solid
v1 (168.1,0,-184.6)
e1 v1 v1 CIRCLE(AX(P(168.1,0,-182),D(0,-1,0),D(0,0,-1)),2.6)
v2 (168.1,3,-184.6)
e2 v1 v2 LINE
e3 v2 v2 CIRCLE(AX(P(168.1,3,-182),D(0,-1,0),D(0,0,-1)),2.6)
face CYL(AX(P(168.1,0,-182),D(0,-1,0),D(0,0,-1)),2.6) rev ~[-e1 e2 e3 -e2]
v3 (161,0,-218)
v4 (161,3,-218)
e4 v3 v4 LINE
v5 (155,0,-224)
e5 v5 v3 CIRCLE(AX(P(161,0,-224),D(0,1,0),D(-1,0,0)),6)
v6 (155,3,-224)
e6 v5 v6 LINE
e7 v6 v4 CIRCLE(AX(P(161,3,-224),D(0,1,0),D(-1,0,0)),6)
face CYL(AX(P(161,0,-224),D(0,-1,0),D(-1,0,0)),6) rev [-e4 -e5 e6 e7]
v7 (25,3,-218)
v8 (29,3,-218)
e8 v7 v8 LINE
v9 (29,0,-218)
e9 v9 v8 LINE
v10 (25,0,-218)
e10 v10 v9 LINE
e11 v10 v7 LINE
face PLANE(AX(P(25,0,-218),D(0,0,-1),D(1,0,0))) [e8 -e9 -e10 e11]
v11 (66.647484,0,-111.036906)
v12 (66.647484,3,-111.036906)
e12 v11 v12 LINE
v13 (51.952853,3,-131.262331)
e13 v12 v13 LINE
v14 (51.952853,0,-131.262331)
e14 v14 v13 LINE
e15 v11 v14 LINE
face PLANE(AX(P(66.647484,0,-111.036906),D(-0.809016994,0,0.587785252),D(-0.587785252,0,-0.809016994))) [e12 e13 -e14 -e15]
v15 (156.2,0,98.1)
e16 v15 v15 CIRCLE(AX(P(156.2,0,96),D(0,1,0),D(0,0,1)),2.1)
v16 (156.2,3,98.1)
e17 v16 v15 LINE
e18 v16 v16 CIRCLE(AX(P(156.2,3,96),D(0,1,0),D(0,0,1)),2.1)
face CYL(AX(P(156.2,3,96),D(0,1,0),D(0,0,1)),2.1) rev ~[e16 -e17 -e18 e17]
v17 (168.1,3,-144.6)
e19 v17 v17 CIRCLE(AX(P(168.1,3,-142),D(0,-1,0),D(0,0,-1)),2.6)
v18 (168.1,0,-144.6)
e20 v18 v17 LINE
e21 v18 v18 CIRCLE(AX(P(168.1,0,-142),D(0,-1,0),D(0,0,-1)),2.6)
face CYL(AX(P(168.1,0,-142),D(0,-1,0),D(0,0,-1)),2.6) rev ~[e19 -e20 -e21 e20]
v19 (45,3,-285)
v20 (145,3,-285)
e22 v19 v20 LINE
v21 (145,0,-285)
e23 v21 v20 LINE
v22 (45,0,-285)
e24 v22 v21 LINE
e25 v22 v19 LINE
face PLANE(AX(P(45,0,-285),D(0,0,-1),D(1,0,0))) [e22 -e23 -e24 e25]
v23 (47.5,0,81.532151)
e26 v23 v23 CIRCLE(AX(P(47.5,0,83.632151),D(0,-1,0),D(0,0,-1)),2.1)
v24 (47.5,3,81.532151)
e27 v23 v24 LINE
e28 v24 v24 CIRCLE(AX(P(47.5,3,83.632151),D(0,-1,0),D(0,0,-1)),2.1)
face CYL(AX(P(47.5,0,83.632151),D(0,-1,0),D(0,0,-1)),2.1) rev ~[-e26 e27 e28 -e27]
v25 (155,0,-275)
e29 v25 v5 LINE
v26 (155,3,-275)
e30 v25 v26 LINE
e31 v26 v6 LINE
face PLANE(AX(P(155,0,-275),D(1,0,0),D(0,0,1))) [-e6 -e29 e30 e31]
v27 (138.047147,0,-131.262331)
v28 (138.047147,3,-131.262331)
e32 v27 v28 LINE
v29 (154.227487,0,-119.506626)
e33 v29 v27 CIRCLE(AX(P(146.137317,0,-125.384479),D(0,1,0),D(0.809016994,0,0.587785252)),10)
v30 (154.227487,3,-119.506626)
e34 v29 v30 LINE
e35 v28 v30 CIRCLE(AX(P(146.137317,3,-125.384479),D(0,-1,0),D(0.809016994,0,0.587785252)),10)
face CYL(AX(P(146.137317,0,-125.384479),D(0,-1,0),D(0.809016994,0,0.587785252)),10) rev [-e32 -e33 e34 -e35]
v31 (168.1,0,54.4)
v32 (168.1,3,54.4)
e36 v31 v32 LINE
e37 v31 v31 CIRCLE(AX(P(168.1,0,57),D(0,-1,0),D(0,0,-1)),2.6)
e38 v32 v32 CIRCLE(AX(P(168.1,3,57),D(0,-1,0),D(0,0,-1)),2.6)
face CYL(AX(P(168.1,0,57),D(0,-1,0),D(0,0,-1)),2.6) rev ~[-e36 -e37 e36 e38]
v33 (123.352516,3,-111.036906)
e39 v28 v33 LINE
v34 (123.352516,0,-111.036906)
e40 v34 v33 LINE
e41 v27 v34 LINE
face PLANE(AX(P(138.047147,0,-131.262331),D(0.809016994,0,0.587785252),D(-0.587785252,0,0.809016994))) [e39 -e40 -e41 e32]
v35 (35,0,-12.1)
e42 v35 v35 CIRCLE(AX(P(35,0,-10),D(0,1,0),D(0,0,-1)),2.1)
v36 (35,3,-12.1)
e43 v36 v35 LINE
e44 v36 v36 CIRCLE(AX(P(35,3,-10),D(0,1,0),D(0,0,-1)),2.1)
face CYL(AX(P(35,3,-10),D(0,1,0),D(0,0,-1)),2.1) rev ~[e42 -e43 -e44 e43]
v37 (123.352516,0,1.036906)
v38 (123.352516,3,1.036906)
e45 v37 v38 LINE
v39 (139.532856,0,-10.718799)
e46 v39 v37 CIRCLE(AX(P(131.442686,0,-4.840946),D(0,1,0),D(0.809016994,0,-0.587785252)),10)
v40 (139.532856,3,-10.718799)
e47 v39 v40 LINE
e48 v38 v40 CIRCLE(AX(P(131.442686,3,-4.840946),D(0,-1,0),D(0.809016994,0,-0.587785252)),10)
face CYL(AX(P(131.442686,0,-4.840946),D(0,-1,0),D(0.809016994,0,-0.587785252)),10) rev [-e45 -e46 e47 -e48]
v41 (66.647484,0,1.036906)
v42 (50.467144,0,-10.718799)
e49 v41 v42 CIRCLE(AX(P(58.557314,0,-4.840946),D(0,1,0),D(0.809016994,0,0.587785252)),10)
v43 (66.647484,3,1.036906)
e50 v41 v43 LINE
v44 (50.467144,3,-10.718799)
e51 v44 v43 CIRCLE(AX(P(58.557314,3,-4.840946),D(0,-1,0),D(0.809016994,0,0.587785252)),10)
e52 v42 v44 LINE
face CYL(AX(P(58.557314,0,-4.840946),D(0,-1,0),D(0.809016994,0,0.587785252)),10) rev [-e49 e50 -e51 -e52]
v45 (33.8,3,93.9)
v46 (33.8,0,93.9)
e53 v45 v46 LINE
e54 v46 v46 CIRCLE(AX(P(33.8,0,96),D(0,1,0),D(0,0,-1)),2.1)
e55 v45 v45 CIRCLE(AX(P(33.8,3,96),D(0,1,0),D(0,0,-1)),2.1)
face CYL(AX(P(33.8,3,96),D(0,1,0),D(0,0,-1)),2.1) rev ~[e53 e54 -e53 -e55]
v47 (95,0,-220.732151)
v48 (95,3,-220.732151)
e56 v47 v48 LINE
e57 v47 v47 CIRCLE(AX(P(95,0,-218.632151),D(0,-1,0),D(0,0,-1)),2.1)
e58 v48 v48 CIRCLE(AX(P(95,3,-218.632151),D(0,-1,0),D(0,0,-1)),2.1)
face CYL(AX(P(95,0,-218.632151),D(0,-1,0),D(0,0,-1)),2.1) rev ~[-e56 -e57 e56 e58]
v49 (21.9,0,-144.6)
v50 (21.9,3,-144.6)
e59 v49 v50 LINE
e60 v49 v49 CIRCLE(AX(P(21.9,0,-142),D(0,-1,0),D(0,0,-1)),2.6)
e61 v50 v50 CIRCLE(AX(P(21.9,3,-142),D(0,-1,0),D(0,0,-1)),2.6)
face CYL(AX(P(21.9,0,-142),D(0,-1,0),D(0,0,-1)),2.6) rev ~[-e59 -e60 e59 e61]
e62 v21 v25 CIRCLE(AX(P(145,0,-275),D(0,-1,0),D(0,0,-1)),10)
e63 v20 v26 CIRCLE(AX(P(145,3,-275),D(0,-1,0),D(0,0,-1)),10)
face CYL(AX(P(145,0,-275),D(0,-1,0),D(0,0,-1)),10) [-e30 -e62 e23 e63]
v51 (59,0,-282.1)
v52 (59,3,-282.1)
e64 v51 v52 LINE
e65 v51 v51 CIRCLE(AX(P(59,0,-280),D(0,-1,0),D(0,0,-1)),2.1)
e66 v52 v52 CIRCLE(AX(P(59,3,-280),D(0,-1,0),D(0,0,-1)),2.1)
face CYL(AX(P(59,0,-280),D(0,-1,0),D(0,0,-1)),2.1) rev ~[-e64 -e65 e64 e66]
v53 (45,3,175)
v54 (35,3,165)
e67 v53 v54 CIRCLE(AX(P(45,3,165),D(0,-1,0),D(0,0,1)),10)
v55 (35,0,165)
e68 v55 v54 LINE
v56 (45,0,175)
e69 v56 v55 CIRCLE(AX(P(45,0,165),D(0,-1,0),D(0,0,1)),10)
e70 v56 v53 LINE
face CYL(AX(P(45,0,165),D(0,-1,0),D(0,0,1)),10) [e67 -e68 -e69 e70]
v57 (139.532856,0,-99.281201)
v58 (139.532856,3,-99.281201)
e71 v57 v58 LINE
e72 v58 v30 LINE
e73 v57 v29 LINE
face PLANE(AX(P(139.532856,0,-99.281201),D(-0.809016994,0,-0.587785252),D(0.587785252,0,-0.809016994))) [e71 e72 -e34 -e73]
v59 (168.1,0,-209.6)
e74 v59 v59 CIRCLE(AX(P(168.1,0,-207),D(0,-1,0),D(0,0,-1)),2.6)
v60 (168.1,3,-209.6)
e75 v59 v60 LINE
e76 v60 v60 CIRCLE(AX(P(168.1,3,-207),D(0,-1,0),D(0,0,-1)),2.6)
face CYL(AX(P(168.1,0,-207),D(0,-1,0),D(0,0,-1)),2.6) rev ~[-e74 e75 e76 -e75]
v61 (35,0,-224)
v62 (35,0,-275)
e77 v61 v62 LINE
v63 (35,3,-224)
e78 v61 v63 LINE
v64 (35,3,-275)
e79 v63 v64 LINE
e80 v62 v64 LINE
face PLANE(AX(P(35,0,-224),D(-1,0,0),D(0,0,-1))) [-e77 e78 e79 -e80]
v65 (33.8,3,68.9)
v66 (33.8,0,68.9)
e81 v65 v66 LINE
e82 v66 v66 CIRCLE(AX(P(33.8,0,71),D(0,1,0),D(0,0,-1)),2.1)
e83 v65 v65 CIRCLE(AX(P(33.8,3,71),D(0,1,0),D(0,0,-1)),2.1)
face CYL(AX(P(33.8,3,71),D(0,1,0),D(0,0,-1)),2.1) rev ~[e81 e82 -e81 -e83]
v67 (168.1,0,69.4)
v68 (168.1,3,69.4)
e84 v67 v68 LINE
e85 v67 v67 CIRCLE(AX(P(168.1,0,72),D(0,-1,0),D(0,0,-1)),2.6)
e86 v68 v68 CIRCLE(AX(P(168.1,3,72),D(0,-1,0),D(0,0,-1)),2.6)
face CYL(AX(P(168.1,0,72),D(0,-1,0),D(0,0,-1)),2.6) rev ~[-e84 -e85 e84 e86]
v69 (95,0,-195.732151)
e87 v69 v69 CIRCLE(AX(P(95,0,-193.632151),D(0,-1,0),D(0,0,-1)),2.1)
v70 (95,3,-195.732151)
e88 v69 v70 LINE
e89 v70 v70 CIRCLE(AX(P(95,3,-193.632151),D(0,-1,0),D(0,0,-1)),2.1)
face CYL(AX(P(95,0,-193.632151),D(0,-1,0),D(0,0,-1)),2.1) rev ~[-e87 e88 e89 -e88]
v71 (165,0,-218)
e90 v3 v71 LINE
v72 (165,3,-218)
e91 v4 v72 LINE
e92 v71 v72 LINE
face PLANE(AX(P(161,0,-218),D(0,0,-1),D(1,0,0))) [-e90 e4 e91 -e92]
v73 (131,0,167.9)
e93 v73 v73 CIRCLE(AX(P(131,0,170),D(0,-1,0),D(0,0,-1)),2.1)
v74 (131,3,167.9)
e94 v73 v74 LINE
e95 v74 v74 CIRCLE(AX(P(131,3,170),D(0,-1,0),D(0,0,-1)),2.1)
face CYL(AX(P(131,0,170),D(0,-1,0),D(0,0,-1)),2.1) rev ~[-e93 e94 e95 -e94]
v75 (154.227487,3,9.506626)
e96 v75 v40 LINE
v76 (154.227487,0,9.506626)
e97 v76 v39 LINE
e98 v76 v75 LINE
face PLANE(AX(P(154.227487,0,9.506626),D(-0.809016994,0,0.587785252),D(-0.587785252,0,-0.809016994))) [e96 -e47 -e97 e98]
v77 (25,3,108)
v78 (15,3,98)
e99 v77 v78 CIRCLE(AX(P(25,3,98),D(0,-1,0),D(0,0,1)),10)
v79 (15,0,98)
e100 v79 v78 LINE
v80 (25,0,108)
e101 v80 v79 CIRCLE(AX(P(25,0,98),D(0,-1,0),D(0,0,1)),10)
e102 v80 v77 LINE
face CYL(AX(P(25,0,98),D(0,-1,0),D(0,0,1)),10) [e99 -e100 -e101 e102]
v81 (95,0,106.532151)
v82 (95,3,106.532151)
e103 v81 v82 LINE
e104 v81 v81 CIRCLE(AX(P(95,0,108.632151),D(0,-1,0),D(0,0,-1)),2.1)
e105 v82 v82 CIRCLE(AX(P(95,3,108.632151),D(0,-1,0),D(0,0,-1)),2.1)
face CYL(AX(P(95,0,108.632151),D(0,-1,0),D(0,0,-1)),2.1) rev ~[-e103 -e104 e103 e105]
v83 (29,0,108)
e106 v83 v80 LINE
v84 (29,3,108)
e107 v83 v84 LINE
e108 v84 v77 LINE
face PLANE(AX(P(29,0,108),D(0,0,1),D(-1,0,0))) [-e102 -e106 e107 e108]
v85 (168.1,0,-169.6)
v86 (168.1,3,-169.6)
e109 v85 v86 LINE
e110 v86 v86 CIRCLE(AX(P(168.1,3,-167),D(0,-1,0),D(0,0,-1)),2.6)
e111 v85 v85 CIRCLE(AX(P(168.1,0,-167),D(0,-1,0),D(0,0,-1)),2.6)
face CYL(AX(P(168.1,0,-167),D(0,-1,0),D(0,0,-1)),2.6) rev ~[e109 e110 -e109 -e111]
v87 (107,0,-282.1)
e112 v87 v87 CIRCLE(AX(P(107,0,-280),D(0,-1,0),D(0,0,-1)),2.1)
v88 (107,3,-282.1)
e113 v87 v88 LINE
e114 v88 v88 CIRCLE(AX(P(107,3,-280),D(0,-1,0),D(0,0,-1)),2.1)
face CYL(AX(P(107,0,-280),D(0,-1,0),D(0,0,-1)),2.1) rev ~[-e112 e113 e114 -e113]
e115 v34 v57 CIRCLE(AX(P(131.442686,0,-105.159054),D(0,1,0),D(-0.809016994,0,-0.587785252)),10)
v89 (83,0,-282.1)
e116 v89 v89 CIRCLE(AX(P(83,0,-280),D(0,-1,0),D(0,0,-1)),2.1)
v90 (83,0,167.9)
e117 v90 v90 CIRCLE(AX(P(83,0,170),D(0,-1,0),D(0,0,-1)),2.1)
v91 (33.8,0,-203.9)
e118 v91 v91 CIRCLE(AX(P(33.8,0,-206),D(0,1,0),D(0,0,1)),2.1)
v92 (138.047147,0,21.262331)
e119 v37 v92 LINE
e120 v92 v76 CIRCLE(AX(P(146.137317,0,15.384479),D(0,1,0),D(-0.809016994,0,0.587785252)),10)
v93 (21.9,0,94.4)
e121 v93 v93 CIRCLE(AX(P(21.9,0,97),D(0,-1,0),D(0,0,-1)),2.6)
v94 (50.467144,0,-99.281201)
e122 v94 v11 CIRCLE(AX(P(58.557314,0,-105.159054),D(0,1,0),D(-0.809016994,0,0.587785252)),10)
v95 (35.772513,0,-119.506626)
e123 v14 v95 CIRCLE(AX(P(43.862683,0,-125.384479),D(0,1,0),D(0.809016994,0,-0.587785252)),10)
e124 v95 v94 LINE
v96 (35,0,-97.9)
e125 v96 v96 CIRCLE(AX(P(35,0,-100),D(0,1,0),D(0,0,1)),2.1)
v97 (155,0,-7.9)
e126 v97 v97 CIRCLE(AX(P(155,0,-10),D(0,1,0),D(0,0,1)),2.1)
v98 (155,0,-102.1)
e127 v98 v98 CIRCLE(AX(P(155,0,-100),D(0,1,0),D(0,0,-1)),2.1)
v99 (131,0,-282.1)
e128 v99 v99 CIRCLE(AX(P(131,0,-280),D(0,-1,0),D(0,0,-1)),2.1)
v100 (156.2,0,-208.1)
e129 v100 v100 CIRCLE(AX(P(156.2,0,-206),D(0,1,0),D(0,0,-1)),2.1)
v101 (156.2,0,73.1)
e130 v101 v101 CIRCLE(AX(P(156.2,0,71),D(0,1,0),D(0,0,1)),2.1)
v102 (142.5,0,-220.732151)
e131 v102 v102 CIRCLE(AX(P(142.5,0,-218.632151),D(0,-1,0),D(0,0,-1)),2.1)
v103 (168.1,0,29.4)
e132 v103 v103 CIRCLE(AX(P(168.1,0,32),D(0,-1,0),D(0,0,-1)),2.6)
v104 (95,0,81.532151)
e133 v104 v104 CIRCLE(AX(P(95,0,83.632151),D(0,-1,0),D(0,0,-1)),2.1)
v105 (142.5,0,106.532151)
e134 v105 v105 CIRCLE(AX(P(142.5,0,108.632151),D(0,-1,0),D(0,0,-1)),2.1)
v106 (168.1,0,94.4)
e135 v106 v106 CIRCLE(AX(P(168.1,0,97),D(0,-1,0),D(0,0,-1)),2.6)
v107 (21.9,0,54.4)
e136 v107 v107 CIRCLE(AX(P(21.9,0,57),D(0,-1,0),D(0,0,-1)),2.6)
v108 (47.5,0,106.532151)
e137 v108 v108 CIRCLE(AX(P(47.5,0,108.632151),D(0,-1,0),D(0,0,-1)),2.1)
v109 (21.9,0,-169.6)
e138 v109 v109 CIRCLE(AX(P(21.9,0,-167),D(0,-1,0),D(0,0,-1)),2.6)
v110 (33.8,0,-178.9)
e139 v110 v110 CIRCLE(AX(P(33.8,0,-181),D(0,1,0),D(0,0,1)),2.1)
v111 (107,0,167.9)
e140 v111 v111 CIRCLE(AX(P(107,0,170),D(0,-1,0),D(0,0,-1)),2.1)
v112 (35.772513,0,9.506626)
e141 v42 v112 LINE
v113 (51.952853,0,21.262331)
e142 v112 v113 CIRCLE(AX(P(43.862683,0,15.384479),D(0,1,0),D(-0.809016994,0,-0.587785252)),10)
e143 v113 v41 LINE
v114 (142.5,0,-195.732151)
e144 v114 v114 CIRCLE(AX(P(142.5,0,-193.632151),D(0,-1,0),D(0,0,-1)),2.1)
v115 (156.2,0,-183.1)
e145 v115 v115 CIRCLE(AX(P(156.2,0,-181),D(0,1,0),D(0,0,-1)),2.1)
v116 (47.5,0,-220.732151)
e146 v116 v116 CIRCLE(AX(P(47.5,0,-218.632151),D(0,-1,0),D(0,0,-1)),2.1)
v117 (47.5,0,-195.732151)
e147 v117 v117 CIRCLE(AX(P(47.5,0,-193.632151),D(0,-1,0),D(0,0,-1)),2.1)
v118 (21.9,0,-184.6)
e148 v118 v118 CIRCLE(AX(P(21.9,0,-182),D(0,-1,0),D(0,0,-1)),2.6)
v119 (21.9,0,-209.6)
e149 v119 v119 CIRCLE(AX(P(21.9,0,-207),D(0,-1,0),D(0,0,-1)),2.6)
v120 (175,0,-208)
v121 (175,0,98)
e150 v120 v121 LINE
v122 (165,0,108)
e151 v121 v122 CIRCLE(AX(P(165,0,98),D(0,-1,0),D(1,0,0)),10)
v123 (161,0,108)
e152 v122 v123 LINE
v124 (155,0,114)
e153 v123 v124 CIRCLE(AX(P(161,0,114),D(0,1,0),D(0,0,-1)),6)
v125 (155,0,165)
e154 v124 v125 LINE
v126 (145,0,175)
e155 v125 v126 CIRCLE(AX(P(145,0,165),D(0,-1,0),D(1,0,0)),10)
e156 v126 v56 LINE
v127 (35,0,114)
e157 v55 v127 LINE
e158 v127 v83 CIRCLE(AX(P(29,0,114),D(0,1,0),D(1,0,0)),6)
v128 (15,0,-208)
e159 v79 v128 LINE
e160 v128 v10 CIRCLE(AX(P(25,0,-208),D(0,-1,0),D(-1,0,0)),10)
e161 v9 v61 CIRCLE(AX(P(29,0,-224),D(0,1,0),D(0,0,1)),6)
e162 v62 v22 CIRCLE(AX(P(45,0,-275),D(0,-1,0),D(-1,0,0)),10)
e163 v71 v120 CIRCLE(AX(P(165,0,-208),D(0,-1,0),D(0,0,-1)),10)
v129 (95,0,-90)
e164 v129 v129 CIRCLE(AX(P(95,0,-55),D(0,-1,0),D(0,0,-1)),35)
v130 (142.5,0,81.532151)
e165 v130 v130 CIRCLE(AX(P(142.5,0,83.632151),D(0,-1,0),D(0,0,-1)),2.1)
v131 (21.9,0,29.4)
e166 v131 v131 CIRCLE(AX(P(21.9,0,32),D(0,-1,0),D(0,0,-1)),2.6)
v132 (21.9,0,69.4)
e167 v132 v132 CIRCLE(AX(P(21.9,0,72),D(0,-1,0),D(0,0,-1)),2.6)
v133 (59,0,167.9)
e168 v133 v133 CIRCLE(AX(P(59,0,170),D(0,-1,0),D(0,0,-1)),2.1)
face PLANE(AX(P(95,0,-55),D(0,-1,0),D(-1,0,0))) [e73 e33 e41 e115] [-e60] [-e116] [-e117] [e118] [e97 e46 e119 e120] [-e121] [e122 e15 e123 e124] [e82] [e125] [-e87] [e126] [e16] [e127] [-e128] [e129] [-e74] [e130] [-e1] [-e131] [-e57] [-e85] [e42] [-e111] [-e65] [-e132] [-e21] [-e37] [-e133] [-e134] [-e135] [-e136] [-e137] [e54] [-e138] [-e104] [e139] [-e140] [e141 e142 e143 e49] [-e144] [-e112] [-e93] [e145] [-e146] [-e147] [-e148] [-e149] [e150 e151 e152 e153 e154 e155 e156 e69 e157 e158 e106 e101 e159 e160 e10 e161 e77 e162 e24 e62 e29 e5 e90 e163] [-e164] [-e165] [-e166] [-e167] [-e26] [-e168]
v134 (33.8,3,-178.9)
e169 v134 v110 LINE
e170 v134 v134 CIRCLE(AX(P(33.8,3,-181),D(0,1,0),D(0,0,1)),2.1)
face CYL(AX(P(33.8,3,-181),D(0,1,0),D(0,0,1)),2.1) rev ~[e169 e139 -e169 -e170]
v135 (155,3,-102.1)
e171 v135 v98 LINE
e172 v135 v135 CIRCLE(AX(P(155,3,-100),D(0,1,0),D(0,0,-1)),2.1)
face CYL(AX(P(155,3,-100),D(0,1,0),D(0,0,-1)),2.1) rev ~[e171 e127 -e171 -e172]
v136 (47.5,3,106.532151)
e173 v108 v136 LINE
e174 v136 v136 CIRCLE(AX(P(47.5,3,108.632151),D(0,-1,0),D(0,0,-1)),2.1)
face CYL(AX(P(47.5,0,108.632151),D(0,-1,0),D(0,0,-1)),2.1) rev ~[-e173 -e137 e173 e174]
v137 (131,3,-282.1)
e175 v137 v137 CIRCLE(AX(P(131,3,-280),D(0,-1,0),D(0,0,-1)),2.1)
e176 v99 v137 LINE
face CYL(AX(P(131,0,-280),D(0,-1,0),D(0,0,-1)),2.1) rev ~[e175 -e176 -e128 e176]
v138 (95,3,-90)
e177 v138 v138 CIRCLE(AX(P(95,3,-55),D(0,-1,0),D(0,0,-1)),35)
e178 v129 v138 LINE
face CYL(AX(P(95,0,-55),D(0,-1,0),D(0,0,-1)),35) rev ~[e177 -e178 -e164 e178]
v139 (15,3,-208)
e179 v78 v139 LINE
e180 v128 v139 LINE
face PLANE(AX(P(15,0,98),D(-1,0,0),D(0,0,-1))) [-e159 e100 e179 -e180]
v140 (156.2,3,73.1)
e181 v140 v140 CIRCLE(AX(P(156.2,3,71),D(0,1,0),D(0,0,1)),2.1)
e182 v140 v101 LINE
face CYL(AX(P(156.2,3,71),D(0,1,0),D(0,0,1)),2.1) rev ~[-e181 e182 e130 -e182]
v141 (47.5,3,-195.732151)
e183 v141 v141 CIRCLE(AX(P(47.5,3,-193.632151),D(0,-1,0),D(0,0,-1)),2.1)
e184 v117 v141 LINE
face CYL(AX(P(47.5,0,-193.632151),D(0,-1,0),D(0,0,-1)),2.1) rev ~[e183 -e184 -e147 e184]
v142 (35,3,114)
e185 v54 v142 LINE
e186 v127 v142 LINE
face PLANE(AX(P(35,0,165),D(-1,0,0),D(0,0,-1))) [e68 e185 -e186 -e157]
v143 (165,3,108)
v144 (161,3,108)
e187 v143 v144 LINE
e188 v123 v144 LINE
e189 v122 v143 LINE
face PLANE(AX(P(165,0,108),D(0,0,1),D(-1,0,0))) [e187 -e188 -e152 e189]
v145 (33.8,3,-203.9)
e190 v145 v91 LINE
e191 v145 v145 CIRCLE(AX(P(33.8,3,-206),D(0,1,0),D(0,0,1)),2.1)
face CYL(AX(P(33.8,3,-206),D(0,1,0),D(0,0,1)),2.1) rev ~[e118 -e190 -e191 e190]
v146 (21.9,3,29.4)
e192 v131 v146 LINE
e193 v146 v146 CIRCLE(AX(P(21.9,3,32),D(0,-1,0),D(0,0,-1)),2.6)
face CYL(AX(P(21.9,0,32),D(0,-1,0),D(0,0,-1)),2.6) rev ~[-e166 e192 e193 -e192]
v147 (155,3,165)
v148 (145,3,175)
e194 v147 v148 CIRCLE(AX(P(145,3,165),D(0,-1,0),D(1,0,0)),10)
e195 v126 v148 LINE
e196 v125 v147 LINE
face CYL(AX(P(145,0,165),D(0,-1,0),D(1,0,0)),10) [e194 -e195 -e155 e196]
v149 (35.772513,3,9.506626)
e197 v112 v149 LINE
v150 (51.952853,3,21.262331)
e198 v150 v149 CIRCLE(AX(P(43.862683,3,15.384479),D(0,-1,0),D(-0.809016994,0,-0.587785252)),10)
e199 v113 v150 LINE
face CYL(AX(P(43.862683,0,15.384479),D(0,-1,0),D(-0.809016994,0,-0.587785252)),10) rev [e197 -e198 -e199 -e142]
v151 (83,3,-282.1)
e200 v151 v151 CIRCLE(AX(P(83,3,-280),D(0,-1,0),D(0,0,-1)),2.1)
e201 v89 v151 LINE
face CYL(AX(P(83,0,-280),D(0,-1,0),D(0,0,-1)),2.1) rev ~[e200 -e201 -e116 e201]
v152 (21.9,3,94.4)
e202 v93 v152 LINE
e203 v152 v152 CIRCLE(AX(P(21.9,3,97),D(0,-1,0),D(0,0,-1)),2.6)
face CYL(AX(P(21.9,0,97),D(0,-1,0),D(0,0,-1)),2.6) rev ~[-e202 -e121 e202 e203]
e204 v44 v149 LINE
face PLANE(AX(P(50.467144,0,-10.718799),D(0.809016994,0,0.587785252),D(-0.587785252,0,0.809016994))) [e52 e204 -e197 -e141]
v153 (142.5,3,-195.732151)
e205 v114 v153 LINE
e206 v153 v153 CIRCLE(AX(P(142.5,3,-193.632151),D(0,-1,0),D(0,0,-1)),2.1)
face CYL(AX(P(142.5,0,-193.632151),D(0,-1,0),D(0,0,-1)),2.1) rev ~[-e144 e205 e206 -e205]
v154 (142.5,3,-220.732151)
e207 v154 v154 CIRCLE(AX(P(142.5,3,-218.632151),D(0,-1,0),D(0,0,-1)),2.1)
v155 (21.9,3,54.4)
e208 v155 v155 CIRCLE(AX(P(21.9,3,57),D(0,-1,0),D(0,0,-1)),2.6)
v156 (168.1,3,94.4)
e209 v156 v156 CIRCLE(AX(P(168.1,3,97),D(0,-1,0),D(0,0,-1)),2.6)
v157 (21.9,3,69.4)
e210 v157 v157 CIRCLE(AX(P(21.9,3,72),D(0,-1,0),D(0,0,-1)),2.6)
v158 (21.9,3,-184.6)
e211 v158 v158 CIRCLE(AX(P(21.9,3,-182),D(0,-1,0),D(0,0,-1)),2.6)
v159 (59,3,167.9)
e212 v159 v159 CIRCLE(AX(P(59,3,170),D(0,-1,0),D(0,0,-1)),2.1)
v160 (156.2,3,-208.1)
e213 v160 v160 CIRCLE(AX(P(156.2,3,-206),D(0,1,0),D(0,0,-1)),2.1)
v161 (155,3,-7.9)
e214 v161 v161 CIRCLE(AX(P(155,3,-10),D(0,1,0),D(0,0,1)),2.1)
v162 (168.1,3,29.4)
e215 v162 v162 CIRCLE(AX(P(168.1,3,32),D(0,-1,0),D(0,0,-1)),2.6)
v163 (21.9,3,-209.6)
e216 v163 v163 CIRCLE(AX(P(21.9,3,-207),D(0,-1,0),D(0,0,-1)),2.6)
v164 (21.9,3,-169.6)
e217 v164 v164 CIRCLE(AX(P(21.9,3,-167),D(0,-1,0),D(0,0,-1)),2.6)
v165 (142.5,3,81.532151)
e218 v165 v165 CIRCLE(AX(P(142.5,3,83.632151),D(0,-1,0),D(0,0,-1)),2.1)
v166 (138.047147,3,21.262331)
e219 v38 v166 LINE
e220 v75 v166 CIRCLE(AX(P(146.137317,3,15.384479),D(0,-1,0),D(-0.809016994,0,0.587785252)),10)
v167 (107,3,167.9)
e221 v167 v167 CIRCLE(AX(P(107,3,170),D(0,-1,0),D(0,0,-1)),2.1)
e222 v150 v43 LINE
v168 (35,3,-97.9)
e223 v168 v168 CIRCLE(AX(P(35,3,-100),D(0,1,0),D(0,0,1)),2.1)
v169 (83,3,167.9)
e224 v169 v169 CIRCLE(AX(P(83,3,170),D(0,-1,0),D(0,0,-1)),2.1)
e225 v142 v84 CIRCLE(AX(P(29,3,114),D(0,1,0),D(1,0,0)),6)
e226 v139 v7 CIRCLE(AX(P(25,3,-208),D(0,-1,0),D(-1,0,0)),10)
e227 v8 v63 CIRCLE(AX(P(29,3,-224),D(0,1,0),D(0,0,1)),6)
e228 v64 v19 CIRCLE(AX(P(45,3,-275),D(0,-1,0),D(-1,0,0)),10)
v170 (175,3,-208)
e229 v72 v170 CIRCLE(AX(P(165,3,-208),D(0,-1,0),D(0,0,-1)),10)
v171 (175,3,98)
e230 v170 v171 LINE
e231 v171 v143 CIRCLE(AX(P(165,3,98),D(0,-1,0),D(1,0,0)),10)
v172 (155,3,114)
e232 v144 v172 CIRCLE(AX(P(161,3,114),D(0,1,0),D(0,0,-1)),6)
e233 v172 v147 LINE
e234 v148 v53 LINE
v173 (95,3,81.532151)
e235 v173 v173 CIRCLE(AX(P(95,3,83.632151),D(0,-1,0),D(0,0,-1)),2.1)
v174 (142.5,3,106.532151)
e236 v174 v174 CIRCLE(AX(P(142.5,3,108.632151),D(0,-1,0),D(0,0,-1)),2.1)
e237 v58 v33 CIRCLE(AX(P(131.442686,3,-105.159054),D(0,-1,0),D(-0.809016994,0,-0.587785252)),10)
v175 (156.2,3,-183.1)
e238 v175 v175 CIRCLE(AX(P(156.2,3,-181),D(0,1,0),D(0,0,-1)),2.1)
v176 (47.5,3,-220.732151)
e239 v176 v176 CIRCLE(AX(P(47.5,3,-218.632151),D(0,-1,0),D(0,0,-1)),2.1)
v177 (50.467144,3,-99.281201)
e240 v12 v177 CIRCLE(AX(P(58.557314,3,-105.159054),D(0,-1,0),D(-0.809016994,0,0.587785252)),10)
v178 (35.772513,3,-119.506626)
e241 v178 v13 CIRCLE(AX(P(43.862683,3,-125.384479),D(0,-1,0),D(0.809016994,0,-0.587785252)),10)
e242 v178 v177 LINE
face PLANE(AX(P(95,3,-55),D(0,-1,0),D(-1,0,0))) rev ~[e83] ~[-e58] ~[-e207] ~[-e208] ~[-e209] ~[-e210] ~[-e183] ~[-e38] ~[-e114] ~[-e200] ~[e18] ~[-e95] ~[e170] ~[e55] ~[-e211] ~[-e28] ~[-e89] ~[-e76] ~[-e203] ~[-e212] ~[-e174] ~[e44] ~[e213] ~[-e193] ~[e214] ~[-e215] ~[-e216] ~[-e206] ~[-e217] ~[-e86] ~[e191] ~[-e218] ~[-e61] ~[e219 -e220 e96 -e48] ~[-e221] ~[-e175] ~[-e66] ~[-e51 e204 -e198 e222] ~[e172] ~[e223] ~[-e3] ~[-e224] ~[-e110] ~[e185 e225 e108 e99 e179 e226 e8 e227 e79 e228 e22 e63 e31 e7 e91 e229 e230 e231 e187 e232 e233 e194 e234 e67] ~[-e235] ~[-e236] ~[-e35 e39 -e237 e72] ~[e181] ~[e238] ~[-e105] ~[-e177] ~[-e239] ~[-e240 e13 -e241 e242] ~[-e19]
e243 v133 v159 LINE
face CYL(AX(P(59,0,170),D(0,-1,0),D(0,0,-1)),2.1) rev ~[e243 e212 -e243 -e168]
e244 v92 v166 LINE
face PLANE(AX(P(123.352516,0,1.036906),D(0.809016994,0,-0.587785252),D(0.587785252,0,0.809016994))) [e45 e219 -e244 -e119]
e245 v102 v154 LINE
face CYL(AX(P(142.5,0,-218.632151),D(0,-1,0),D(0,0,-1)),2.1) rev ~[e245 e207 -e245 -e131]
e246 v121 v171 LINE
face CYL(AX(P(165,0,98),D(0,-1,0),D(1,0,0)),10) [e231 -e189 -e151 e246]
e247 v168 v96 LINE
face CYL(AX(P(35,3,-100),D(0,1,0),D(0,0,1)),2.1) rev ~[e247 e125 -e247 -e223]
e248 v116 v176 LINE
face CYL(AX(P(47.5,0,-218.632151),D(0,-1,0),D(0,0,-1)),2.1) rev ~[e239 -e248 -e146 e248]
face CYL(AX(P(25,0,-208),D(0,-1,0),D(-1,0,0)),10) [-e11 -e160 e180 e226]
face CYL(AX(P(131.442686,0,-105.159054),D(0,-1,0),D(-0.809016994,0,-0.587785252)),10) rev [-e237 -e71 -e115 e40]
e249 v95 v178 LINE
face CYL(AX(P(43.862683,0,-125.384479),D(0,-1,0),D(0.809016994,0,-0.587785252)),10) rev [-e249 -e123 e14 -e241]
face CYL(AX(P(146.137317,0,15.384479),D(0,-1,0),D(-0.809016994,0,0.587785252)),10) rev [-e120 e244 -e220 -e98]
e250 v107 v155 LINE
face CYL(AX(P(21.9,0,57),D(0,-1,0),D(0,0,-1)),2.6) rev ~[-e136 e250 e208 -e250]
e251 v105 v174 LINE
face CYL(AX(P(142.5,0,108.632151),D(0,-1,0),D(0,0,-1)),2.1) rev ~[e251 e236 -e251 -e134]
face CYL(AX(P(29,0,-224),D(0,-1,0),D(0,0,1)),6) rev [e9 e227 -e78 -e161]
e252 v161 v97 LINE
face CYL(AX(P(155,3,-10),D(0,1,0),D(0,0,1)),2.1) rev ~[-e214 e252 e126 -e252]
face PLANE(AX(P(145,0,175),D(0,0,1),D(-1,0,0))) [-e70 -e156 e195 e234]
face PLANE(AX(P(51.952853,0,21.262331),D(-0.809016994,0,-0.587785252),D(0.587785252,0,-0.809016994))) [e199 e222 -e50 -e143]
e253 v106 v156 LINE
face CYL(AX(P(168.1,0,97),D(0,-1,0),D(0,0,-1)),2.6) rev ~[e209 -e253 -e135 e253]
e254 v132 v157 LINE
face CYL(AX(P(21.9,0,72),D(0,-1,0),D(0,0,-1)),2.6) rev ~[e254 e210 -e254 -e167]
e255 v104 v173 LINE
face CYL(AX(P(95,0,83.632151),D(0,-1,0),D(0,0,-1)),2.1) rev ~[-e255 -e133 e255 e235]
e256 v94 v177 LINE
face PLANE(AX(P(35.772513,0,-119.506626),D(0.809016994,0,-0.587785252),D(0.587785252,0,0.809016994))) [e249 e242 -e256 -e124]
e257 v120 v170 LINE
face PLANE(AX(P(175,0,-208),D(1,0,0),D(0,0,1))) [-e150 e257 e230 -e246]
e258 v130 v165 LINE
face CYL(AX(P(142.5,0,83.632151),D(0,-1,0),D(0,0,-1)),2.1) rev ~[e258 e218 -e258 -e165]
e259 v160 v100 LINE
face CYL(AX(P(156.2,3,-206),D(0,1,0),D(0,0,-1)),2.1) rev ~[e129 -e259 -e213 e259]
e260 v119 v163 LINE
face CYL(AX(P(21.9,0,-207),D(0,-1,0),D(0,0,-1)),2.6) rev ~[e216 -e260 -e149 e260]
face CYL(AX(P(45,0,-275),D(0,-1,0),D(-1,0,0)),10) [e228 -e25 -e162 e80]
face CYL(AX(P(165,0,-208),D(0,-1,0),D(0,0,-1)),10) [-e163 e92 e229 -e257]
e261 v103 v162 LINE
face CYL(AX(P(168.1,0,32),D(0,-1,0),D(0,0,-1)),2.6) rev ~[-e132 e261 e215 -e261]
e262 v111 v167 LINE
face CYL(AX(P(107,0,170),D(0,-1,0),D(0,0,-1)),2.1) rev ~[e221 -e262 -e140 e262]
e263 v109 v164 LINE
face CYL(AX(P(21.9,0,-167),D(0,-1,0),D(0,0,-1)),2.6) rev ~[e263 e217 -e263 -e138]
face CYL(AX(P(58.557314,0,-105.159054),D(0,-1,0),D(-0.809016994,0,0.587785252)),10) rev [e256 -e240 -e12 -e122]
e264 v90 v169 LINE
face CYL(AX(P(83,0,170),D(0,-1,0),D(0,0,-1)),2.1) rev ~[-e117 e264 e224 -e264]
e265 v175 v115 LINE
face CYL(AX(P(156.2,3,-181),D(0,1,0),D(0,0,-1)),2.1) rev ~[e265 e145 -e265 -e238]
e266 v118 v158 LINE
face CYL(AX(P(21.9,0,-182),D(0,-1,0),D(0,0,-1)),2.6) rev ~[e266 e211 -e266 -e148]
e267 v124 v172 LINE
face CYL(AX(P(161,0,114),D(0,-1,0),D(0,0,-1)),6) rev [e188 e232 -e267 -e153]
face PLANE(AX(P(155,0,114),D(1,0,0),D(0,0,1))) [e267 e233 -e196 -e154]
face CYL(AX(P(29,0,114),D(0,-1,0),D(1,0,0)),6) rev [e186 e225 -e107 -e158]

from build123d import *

# Parameters (mm, degrees)
EXTRUDE_1_DEPTH     = 3
SKETCH_2_R          = 2.6
SKETCH_2_R_2        = 35
SKETCH_2_R_3        = 2.1
CUT_EXTRUDE_1_DEPTH = 10
CUT_EXTRUDE_2_DEPTH = 10
SKETCH_8_R          = 2.1
CUT_EXTRUDE_6_DEPTH = 10
SKETCH_9_R          = 2.1
CUT_EXTRUDE_7_DEPTH = 10


with BuildPart() as part:
    # 草图1 → 凸台-拉伸1 (new body)
    with BuildSketch(Plane(origin=(0, 0, 0), x_dir=(1, 0, 0), z_dir=(0, 1, 0))):
        with BuildLine():
            Line((165, -108), (161, -108))
            ThreePointArc((161, -108), (156.757359313, -109.757359313), (155, -114))
            Line((155, -114), (155, -165))
            ThreePointArc((155, -165), (152.071067812, -172.071067812), (145, -175))
            Line((145, -175), (45, -175))
            ThreePointArc((45, -175), (37.928932188, -172.071067812), (35, -165))
            Line((35, -165), (35, -114))
            ThreePointArc((35, -114), (33.242640687, -109.757359313), (29, -108))
            Line((29, -108), (25, -108))
            ThreePointArc((25, -108), (17.928932188, -105.071067812), (15, -98))
            Line((15, -98), (15, -25))
            Line((15, -25), (15, 135))
            Line((15, 135), (15, 208))
            ThreePointArc((15, 208), (17.928932188, 215.071067812), (25, 218))
            Line((25, 218), (29, 218))
            ThreePointArc((29, 218), (33.242640687, 219.757359313), (35, 224))
            Line((35, 224), (35, 275))
            ThreePointArc((35, 275), (37.928932188, 282.071067812), (45, 285))
            Line((45, 285), (145, 285))
            ThreePointArc((145, 285), (152.071067812, 282.071067812), (155, 275))
            Line((155, 275), (155, 224))
            ThreePointArc((155, 224), (156.757359313, 219.757359313), (161, 218))
            Line((161, 218), (165, 218))
            ThreePointArc((165, 218), (172.071067812, 215.071067812), (175, 208))
            Line((175, 208), (175, 135))
            Line((175, 135), (175, -25))
            Line((175, -25), (175, -98))
            ThreePointArc((175, -98), (172.071067812, -105.071067812), (165, -108))
        make_face()
    extrude(amount=EXTRUDE_1_DEPTH)

    # 草图2 → 切除-拉伸1 (cut)
    with BuildSketch(Plane.XZ):
        with Locations(Location((168.1, 97, 0), (0, 0, 270))):
            Circle(SKETCH_2_R)
        with Locations(Location((168.1, 72, 0), (0, 0, 270))):
            Circle(SKETCH_2_R)
        with Locations(Location((168.1, 57, 0), (0, 0, 270))):
            Circle(SKETCH_2_R)
        with Locations(Location((168.1, 32, 0), (0, 0, 270))):
            Circle(SKETCH_2_R)
        with Locations(Location((95, -55, 0), (0, 0, 270))):
            Circle(SKETCH_2_R_2)
        with Locations(Location((59, 170, 0), (0, 0, 270))):
            Circle(SKETCH_2_R_3)
        with Locations(Location((83, 170, 0), (0, 0, 270))):
            Circle(SKETCH_2_R_3)
        with Locations(Location((107, 170, 0), (0, 0, 270))):
            Circle(SKETCH_2_R_3)
        with Locations(Location((131, 170, 0), (0, 0, 270))):
            Circle(SKETCH_2_R_3)
        with Locations(Location((131, -280, 0), (0, 0, 270))):
            Circle(SKETCH_2_R_3)
        with Locations(Location((107, -280, 0), (0, 0, 270))):
            Circle(SKETCH_2_R_3)
        with Locations(Location((83, -280, 0), (0, 0, 270))):
            Circle(SKETCH_2_R_3)
        with Locations(Location((59, -280, 0), (0, 0, 270))):
            Circle(SKETCH_2_R_3)
        with Locations(Location((142.5, 108.632151192, 0), (0, 0, 270))):
            Circle(SKETCH_2_R_3)
        with Locations(Location((142.5, 83.632151192, 0), (0, 0, 270))):
            Circle(SKETCH_2_R_3)
        with Locations(Location((95, 83.632151192, 0), (0, 0, 270))):
            Circle(SKETCH_2_R_3)
        with Locations(Location((95, 108.632151192, 0), (0, 0, 270))):
            Circle(SKETCH_2_R_3)
        with Locations(Location((47.5, 83.632151192, 0), (0, 0, 270))):
            Circle(SKETCH_2_R_3)
        with Locations(Location((47.5, 108.632151192, 0), (0, 0, 270))):
            Circle(SKETCH_2_R_3)
        with Locations(Location((47.5, -218.632151192, 0), (0, 0, 270))):
            Circle(SKETCH_2_R_3)
        with Locations(Location((47.5, -193.632151192, 0), (0, 0, 270))):
            Circle(SKETCH_2_R_3)
        with Locations(Location((95, -218.632151192, 0), (0, 0, 270))):
            Circle(SKETCH_2_R_3)
        with Locations(Location((95, -193.632151192, 0), (0, 0, 270))):
            Circle(SKETCH_2_R_3)
        with Locations(Location((142.5, -193.632151192, 0), (0, 0, 270))):
            Circle(SKETCH_2_R_3)
        with Locations(Location((142.5, -218.632151192, 0), (0, 0, 270))):
            Circle(SKETCH_2_R_3)
        with Locations(Location((21.9, 32, 0), (0, 0, 270))):
            Circle(SKETCH_2_R)
        with Locations(Location((21.9, 57, 0), (0, 0, 270))):
            Circle(SKETCH_2_R)
        with Locations(Location((21.9, 72, 0), (0, 0, 270))):
            Circle(SKETCH_2_R)
        with Locations(Location((21.9, 97, 0), (0, 0, 270))):
            Circle(SKETCH_2_R)
        with Locations(Location((21.9, -207, 0), (0, 0, 270))):
            Circle(SKETCH_2_R)
        with Locations(Location((21.9, -182, 0), (0, 0, 270))):
            Circle(SKETCH_2_R)
        with Locations(Location((21.9, -167, 0), (0, 0, 270))):
            Circle(SKETCH_2_R)
        with Locations(Location((21.9, -142, 0), (0, 0, 270))):
            Circle(SKETCH_2_R)
        with Locations(Location((168.1, -142, 0), (0, 0, 270))):
            Circle(SKETCH_2_R)
        with Locations(Location((168.1, -167, 0), (0, 0, 270))):
            Circle(SKETCH_2_R)
        with Locations(Location((168.1, -182, 0), (0, 0, 270))):
            Circle(SKETCH_2_R)
        with Locations(Location((168.1, -207, 0), (0, 0, 270))):
            Circle(SKETCH_2_R)
    extrude(amount=-CUT_EXTRUDE_1_DEPTH, mode=Mode.SUBTRACT)

    # 草图3 → 切除-拉伸2 (cut)
    with BuildSketch(Plane.XZ):
        with BuildLine():
            Line((35.772513107, -119.506625988), (50.467144414, -99.281201128))
            ThreePointArc((50.467144414, -99.281201128), (64.435166881, -97.068883707), (66.647484302, -111.036906174))
            Line((66.647484302, -111.036906174), (51.952852994, -131.262331034))
            ThreePointArc((51.952852994, -131.262331034), (37.984830528, -133.474648454), (35.772513107, -119.506625988))
        make_face()
        with BuildLine():
            Line((51.952852994, 21.262331034), (66.647484302, 1.036906174))
            ThreePointArc((66.647484302, 1.036906174), (64.435166881, -12.931116293), (50.467144414, -10.718798872))
            Line((50.467144414, -10.718798872), (35.772513107, 9.506625988))
            ThreePointArc((35.772513107, 9.506625988), (37.984830528, 23.474648454), (51.952852994, 21.262331034))
        make_face()
        with BuildLine():
            Line((154.227486893, 9.506625988), (139.532855586, -10.718798872))
            ThreePointArc((139.532855586, -10.718798872), (125.564833119, -12.931116293), (123.352515698, 1.036906174))
            Line((123.352515698, 1.036906174), (138.047147006, 21.262331034))
            ThreePointArc((138.047147006, 21.262331034), (152.015169472, 23.474648454), (154.227486893, 9.506625988))
        make_face()
        with BuildLine():
            Line((138.047147006, -131.262331034), (123.352515698, -111.036906174))
            ThreePointArc((123.352515698, -111.036906174), (125.564833119, -97.068883707), (139.532855586, -99.281201128))
            Line((139.532855586, -99.281201128), (154.227486893, -119.506625988))
            ThreePointArc((154.227486893, -119.506625988), (152.015169472, -133.474648454), (138.047147006, -131.262331034))
        make_face()
    extrude(amount=-CUT_EXTRUDE_2_DEPTH, mode=Mode.SUBTRACT)

    # 草图8 → 切除-拉伸6 (cut)
    with BuildSketch(Plane(origin=(0, 3, 0), x_dir=(1, 0, 0), z_dir=(0, 1, 0))):
        with Locations(Location((155, 10, 0), (0, 0, 270))):
            Circle(SKETCH_8_R)
        with Locations(Location((155, 100, 0), (0, 0, 90))):
            Circle(SKETCH_8_R)
        with Locations(Location((35, 10, 0), (0, 0, 90))):
            Circle(SKETCH_8_R)
        with Locations(Location((35, 100, 0), (0, 0, 270))):
            Circle(SKETCH_8_R)
    extrude(amount=-CUT_EXTRUDE_6_DEPTH, mode=Mode.SUBTRACT)

    # 草图9 → 切除-拉伸7 (cut)
    with BuildSketch(Plane(origin=(0, 3, 0), x_dir=(1, 0, 0), z_dir=(0, 1, 0))):
        with Locations(Location((156.2, -71, 0), (0, 0, 270))):
            Circle(SKETCH_9_R)
        with Locations(Location((156.2, -96, 0), (0, 0, 270))):
            Circle(SKETCH_9_R)
        with Locations(Location((33.8, -96, 0), (0, 0, 90))):
            Circle(SKETCH_9_R)
        with Locations(Location((33.8, -71, 0), (0, 0, 90))):
            Circle(SKETCH_9_R)
        with Locations(Location((156.2, 181, 0), (0, 0, 90))):
            Circle(SKETCH_9_R)
        with Locations(Location((156.2, 206, 0), (0, 0, 90))):
            Circle(SKETCH_9_R)
        with Locations(Location((33.8, 181, 0), (0, 0, 270))):
            Circle(SKETCH_9_R)
        with Locations(Location((33.8, 206, 0), (0, 0, 270))):
            Circle(SKETCH_9_R)
    extrude(amount=-CUT_EXTRUDE_7_DEPTH, mode=Mode.SUBTRACT)


solid = part.part
